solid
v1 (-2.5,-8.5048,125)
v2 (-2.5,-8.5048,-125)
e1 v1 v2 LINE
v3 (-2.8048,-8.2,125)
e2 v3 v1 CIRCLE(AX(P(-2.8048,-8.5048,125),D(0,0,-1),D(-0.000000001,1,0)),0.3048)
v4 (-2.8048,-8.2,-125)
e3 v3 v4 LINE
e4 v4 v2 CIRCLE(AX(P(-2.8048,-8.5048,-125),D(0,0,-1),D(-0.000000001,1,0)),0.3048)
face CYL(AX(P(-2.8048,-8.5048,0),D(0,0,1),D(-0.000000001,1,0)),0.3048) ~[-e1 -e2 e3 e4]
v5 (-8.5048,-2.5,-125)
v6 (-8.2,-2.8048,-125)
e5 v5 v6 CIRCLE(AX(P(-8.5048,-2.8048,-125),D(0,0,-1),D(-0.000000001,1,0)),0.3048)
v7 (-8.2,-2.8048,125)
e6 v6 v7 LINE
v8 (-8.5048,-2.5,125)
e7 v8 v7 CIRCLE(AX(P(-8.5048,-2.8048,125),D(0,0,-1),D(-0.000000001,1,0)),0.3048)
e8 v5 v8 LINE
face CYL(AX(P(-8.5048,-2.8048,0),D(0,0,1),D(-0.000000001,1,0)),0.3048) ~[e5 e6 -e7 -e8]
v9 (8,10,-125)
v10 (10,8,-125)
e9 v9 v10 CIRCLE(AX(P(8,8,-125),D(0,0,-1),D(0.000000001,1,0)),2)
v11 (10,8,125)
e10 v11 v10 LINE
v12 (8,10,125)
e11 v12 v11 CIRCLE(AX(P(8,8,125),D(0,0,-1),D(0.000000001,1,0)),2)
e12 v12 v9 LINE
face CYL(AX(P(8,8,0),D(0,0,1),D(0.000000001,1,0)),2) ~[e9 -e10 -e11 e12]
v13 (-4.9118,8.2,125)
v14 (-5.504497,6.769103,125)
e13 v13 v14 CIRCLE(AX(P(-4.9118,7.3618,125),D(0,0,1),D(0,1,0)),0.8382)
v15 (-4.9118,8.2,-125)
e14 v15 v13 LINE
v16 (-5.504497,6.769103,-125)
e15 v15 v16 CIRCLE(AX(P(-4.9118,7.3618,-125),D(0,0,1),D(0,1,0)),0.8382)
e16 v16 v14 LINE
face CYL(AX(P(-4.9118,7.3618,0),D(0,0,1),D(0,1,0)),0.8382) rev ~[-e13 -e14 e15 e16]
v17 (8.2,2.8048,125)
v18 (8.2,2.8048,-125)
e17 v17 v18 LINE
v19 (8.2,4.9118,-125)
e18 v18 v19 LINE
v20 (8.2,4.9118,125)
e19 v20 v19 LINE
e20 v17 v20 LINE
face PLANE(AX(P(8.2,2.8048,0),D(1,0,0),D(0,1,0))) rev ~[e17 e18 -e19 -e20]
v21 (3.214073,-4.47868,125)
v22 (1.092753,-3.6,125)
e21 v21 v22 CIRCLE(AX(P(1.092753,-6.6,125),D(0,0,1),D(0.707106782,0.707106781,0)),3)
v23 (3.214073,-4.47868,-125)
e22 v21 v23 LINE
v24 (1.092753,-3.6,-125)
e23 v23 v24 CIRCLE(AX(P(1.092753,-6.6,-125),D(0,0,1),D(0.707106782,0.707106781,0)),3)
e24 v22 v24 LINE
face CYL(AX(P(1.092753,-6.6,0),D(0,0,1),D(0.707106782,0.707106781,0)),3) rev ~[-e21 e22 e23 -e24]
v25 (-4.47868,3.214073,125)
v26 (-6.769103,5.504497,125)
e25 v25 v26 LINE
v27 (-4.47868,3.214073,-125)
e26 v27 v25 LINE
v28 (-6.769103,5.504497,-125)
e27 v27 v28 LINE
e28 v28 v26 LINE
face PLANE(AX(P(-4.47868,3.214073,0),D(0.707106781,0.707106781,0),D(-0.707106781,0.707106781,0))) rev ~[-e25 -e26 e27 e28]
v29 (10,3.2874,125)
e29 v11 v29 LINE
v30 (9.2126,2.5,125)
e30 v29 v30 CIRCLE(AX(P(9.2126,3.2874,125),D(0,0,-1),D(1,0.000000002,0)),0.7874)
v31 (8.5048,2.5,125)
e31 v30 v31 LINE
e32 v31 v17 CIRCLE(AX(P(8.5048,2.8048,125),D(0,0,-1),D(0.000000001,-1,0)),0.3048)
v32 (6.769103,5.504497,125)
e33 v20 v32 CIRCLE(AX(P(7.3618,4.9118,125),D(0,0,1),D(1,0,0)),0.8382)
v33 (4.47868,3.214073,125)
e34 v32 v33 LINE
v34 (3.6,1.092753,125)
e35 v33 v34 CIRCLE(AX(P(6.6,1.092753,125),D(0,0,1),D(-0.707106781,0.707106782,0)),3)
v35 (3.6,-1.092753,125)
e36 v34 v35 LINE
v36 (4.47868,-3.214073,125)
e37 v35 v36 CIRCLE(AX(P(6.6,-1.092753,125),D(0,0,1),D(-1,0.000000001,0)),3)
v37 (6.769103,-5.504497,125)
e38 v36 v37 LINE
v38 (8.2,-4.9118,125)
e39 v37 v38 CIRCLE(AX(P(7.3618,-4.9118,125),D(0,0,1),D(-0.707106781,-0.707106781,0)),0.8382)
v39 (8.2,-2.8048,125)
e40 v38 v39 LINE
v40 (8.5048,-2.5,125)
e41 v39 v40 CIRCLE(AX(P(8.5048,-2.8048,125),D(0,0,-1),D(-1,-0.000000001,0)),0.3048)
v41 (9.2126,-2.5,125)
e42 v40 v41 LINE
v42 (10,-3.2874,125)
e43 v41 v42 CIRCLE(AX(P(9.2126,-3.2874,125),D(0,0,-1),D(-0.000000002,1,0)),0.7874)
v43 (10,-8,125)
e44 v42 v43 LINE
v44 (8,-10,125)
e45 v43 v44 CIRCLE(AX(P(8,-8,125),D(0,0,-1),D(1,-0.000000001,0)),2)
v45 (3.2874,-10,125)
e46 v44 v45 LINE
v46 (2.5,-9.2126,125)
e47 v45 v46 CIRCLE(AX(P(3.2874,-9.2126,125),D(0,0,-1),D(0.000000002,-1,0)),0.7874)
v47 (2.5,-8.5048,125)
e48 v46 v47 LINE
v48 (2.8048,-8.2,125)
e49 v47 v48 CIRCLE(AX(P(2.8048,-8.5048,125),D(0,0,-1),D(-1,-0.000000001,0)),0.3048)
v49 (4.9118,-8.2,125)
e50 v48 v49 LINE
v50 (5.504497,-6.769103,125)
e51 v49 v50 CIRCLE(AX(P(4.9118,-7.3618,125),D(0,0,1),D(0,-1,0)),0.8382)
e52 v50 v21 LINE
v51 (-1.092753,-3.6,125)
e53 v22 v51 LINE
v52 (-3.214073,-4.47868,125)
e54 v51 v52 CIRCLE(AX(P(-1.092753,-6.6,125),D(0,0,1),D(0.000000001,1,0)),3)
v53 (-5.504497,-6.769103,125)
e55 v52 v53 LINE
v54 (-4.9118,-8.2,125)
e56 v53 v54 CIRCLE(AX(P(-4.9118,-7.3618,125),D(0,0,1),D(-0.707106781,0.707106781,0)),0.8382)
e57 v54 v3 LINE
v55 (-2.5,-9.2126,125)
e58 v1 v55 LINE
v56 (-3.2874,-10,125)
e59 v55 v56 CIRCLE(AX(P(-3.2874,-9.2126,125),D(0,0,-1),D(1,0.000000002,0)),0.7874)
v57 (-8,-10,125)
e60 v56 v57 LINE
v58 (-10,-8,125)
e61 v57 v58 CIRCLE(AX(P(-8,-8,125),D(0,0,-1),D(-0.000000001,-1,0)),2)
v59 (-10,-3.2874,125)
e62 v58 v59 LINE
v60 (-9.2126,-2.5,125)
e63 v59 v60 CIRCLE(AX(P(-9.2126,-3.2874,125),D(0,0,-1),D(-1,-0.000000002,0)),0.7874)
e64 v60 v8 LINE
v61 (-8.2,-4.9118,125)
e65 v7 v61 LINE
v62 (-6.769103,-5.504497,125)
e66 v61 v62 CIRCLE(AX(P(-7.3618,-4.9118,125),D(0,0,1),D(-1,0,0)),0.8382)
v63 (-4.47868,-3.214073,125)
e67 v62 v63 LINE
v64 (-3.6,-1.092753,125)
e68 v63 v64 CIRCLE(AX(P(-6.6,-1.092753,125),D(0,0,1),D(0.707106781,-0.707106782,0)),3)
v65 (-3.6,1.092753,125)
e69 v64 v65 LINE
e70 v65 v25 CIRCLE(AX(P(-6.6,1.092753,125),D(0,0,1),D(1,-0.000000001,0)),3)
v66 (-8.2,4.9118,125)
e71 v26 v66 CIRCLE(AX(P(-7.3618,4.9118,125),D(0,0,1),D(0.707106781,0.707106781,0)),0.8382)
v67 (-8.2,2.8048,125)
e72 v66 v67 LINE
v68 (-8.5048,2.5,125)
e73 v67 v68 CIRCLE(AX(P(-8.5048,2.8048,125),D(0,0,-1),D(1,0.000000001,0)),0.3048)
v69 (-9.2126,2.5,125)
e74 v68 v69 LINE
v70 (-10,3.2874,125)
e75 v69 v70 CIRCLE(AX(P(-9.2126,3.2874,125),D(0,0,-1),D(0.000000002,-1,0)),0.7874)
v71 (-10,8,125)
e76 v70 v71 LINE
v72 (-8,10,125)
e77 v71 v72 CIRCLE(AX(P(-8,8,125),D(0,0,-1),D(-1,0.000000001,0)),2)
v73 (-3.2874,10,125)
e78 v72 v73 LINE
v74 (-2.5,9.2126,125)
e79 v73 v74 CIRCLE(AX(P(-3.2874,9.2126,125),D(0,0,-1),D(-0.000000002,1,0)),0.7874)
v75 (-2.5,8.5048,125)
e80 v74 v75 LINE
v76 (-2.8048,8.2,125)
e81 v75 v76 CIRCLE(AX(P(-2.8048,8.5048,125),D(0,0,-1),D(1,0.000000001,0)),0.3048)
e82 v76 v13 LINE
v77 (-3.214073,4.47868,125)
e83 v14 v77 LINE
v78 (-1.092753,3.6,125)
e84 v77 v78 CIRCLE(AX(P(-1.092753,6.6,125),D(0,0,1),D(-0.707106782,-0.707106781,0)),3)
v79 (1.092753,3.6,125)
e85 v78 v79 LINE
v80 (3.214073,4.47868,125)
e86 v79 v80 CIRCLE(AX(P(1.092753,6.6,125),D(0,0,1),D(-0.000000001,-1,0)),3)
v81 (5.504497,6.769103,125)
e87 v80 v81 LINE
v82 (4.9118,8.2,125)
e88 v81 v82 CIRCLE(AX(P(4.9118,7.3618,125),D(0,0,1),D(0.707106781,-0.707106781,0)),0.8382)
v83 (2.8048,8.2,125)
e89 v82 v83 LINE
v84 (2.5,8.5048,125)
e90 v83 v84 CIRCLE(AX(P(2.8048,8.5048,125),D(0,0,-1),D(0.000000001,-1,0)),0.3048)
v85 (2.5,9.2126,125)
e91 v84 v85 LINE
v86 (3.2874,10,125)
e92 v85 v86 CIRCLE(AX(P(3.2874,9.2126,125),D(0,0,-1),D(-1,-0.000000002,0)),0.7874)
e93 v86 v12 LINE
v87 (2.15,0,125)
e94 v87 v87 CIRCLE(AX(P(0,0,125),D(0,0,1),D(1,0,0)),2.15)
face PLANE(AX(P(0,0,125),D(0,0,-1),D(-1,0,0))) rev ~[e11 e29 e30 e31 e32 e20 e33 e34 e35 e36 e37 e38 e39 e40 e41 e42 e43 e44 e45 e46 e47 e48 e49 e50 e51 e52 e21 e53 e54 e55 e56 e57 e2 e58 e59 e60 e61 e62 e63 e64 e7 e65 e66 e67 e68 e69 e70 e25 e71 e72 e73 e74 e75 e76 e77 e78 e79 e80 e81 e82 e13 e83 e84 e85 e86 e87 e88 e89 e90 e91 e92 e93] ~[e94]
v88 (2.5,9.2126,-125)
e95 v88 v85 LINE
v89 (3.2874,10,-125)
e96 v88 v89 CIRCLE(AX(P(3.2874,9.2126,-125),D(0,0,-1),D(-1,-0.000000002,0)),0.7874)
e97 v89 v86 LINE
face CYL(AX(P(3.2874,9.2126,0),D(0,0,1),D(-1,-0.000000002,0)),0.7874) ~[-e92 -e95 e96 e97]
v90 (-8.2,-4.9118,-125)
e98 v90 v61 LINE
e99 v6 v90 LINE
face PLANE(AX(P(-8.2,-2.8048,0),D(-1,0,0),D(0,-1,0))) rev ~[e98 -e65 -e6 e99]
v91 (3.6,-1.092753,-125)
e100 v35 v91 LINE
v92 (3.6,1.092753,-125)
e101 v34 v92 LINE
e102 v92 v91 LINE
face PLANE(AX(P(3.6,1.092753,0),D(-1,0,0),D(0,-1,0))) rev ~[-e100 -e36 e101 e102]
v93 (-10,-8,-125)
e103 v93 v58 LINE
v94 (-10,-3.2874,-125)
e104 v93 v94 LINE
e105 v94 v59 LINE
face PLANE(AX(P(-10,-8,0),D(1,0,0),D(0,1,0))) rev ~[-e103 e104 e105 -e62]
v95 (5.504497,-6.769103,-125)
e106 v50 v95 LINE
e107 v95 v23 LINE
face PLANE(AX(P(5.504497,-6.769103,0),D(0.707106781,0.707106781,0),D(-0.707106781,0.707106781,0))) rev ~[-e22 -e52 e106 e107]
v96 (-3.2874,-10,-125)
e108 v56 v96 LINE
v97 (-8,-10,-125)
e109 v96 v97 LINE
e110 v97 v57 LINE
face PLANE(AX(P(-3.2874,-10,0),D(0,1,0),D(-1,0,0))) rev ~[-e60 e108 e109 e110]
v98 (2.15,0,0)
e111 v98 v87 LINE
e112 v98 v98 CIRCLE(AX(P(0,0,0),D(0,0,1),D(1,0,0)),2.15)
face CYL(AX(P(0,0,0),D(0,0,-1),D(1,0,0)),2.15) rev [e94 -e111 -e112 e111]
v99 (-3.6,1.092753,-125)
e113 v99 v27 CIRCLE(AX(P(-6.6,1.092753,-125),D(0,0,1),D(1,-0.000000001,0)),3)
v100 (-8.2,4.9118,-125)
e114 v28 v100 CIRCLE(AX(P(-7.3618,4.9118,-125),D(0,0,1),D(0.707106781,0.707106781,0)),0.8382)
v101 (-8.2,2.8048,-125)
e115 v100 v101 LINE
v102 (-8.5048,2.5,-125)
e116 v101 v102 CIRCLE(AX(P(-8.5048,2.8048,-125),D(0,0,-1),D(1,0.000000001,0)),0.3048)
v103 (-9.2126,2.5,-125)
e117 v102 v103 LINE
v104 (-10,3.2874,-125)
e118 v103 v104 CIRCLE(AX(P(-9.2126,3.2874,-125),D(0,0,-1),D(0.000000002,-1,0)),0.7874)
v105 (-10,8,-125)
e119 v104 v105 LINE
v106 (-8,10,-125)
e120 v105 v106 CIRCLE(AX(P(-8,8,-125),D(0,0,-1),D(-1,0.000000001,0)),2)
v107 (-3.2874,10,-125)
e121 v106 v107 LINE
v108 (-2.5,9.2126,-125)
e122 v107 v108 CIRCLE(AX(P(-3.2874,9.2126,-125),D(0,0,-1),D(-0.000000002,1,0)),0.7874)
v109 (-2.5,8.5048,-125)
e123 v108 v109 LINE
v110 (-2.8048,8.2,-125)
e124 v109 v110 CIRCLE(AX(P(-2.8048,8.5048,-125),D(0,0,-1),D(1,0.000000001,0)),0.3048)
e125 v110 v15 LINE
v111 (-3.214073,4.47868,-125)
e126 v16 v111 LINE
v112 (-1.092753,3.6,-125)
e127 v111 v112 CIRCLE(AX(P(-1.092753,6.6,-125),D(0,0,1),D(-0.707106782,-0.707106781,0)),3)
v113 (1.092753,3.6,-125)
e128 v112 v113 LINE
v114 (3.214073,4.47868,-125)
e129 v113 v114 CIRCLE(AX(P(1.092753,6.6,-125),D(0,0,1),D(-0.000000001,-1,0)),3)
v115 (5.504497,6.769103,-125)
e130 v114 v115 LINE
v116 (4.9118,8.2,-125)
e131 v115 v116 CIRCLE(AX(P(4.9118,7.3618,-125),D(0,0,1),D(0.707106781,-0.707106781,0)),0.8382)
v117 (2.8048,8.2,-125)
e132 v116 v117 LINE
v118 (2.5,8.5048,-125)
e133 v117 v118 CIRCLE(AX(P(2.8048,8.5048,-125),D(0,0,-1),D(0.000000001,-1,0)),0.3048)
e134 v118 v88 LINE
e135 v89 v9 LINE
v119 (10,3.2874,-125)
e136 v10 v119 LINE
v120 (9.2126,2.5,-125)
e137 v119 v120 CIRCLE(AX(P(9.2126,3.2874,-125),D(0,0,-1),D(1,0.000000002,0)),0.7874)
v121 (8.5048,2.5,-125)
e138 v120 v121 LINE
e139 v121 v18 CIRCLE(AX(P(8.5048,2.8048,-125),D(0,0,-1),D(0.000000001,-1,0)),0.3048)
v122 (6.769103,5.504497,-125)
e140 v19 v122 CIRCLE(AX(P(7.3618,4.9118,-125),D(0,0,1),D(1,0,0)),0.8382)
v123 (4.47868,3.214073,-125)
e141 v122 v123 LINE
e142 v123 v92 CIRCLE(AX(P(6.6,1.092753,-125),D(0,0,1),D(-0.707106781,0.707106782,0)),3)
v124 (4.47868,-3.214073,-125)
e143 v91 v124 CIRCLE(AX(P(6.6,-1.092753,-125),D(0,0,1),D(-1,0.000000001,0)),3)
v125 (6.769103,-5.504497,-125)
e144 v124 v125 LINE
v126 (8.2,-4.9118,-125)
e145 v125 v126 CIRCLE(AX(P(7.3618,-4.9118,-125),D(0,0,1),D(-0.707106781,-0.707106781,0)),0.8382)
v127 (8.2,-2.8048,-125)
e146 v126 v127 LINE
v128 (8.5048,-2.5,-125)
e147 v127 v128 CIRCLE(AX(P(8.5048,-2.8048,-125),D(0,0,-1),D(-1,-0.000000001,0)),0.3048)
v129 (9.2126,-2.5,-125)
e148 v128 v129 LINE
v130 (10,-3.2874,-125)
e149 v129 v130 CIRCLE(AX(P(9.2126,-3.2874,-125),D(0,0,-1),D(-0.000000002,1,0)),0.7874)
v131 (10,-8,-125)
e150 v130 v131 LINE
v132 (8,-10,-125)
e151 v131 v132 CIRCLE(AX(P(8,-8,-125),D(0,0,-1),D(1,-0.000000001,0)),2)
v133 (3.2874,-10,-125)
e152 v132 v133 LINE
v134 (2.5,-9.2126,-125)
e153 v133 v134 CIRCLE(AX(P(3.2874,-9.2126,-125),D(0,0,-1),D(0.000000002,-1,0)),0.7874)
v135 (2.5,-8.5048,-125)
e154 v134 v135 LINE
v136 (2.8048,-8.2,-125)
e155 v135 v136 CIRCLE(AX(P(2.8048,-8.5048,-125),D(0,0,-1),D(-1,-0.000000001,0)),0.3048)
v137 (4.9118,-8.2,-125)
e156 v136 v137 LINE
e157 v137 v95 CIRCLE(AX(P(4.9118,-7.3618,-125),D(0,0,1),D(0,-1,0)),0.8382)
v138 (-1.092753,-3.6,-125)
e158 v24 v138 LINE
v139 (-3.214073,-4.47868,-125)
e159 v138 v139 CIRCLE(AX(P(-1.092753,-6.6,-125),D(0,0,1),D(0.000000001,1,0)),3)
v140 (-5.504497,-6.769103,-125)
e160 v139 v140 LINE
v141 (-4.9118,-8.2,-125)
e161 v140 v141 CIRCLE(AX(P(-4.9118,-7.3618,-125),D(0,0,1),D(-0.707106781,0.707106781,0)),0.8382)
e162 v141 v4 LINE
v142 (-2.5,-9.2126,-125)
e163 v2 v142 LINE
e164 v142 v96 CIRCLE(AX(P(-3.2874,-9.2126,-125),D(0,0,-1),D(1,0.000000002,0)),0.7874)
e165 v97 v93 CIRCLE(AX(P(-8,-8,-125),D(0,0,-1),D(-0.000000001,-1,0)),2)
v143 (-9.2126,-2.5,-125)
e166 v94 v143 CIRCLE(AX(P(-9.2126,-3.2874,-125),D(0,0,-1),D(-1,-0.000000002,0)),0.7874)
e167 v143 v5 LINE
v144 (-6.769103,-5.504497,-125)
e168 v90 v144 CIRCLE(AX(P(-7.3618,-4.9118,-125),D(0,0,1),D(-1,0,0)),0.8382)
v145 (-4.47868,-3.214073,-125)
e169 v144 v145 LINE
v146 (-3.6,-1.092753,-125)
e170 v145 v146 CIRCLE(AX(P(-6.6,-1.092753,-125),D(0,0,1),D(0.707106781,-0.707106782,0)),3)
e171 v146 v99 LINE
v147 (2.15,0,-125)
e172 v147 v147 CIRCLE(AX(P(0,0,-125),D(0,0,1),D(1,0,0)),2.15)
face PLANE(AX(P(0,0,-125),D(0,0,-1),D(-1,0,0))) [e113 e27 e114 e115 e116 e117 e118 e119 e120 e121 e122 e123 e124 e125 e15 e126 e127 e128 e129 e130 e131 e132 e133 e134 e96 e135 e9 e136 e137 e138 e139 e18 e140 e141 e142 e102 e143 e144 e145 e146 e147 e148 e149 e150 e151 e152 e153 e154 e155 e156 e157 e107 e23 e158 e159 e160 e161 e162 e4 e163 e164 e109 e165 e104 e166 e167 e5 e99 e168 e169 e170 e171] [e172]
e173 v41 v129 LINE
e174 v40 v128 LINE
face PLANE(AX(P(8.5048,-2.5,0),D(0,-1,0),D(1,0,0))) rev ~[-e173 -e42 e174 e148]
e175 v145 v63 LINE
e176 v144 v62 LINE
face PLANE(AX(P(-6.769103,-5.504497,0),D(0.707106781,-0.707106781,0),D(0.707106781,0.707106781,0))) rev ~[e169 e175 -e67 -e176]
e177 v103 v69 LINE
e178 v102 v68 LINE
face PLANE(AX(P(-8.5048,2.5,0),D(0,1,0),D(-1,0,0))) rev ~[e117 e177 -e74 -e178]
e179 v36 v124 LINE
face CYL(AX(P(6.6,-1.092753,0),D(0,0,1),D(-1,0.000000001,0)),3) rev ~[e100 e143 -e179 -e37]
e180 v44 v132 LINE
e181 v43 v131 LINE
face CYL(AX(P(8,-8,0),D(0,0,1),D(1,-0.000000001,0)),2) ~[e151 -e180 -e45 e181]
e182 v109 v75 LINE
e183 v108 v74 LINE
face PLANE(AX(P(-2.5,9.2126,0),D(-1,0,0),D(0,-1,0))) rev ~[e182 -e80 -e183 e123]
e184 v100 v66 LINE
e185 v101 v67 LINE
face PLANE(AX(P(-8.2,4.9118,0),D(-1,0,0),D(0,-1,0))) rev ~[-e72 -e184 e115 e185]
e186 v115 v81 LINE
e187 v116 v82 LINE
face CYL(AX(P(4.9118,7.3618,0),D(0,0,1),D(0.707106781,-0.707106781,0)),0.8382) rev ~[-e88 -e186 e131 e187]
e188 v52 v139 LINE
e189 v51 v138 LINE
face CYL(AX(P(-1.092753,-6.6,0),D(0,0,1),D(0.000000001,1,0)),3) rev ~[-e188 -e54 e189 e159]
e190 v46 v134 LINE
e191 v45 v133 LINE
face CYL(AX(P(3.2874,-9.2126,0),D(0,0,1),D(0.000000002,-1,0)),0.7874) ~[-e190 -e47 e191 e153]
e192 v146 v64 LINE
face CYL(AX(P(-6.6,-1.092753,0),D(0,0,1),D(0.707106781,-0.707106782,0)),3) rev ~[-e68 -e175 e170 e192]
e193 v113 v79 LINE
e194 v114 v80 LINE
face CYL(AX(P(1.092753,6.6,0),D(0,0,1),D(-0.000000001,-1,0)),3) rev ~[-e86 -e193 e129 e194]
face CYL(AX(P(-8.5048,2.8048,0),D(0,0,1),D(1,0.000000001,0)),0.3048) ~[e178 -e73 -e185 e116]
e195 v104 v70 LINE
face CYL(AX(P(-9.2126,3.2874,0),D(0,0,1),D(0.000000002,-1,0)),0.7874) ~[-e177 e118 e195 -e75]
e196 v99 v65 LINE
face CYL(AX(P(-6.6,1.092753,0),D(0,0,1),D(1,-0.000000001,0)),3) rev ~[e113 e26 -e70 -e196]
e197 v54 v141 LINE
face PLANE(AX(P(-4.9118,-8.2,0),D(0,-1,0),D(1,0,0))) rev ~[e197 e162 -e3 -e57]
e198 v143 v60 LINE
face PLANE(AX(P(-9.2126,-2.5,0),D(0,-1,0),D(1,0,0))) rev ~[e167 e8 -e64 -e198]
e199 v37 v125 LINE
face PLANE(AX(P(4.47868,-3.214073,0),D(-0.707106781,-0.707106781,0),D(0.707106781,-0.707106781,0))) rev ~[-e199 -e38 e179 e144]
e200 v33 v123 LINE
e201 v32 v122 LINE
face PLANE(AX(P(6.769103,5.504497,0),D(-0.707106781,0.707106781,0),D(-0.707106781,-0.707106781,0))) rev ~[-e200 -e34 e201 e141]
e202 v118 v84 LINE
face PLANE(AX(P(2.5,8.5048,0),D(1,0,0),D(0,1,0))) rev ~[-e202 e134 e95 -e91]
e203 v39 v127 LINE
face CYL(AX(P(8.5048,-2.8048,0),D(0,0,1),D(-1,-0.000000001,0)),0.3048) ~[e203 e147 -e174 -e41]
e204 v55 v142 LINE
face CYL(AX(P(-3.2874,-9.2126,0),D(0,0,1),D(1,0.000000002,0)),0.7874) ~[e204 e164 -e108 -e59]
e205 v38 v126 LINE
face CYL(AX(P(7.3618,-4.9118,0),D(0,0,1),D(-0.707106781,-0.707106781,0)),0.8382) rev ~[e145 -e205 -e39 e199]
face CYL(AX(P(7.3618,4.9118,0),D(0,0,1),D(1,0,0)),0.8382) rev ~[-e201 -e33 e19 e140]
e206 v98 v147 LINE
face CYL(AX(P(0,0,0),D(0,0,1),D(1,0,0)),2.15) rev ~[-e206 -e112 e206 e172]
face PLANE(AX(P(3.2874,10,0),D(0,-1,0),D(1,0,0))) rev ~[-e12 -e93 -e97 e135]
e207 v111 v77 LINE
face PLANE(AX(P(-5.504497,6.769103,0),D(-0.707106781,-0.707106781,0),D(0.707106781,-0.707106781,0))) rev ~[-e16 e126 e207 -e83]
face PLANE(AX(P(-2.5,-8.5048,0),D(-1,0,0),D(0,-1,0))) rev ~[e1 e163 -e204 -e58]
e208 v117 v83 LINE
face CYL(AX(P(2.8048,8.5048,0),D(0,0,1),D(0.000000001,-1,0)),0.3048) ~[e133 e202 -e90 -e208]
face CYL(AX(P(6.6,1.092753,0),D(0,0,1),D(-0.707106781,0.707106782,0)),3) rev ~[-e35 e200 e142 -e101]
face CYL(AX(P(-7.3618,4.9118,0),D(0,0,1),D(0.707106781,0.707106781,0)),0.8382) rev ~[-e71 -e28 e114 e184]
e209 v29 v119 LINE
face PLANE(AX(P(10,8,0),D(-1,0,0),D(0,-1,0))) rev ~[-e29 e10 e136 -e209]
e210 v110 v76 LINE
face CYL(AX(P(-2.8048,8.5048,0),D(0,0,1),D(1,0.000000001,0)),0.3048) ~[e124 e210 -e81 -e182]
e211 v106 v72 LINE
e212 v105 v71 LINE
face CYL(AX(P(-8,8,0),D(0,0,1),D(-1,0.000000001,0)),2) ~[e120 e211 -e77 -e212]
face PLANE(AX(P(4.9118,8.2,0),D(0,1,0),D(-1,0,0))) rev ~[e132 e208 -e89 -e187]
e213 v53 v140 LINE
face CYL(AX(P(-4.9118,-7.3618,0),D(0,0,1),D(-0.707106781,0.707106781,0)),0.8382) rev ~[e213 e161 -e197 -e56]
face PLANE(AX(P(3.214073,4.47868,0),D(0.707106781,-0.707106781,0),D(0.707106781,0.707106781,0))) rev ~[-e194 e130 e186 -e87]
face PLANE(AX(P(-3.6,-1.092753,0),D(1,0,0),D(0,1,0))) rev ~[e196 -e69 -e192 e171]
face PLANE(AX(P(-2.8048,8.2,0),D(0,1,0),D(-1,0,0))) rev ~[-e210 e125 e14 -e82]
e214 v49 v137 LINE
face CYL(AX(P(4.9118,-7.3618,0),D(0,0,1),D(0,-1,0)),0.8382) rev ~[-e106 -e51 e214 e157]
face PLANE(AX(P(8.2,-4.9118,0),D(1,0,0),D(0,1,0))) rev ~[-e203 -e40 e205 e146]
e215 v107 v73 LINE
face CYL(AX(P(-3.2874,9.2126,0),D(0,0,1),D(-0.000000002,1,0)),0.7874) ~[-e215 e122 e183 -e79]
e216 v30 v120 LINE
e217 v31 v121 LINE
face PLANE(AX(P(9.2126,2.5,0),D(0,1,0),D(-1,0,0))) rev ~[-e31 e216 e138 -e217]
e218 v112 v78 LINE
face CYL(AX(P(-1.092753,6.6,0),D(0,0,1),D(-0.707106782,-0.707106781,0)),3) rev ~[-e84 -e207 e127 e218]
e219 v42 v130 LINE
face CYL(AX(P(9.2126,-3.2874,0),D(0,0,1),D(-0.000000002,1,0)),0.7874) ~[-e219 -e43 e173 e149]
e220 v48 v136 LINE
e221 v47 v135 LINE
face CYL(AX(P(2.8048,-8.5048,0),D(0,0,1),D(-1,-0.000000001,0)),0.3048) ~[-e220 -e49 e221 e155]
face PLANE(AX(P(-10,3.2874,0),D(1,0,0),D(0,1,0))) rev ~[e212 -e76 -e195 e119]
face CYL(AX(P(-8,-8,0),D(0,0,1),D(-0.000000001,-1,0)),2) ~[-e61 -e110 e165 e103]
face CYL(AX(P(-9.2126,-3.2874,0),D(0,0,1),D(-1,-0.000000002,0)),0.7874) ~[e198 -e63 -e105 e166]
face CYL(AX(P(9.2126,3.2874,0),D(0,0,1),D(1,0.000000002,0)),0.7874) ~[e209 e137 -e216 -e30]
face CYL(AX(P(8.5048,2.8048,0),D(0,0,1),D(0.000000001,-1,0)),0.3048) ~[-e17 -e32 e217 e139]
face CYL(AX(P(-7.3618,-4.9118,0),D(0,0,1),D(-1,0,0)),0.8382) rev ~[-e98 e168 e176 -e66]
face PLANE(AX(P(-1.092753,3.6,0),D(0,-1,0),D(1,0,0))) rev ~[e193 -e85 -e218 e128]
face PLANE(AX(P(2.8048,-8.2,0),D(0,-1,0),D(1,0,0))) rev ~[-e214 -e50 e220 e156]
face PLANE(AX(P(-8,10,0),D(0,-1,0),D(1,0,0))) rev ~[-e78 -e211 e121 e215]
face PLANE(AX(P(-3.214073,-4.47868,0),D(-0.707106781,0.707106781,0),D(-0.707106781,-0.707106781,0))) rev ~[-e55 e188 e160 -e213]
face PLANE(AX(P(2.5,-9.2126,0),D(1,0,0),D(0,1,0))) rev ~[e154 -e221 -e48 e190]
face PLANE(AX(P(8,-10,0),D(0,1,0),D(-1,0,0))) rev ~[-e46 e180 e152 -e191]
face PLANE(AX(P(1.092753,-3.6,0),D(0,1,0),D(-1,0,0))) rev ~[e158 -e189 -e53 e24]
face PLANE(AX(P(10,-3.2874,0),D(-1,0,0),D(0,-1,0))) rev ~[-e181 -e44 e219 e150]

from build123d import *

# Parameters (mm, degrees)
SKETCH3_R                = 2.15
BOSS_EXTRUDE1_DEPTH      = 125
BOSS_EXTRUDE1_DEPTH_BACK = 125


with BuildPart() as part:
    # Sketch3 → Boss-Extrude1 (new body, two sides)
    with BuildSketch(Plane.XY) as boss_extrude1_sk:
        with BuildLine():
            Line((3.2874, 10), (8, 10))
            ThreePointArc((8, 10), (9.414213562, 9.414213562), (10, 8))
            Line((10, 8), (10, 3.2874))
            ThreePointArc((10, 3.2874), (9.76937588, 2.73062412), (9.2126, 2.5))
            Line((9.2126, 2.5), (8.5048, 2.5))
            ThreePointArc((8.5048, 2.5), (8.289273853, 2.589273853), (8.2, 2.8048))
            Line((8.2, 2.8048), (8.2, 4.9118))
            ThreePointArc((8.2, 4.9118), (7.682565253, 5.686195824), (6.769103096, 5.504496904))
            Line((6.769103096, 5.504496904), (4.478679656, 3.214073464))
            ThreePointArc((4.478679656, 3.214073464), (3.828361402, 2.240803418), (3.6, 1.092753121))
            Line((3.6, 1.092753121), (3.6, -1.092753121))
            ThreePointArc((3.6, -1.092753121), (3.828361402, -2.240803418), (4.478679656, -3.214073464))
            Line((4.478679656, -3.214073464), (6.769103096, -5.504496904))
            ThreePointArc((6.769103096, -5.504496904), (7.682565253, -5.686195824), (8.2, -4.9118))
            Line((8.2, -4.9118), (8.2, -2.8048))
            ThreePointArc((8.2, -2.8048), (8.289273853, -2.589273853), (8.5048, -2.5))
            Line((8.5048, -2.5), (9.2126, -2.5))
            ThreePointArc((9.2126, -2.5), (9.76937588, -2.73062412), (10, -3.2874))
            Line((10, -3.2874), (10, -8))
            ThreePointArc((10, -8), (9.414213562, -9.414213562), (8, -10))
            Line((8, -10), (3.2874, -10))
            ThreePointArc((3.2874, -10), (2.73062412, -9.76937588), (2.5, -9.2126))
            Line((2.5, -9.2126), (2.5, -8.5048))
            ThreePointArc((2.5, -8.5048), (2.589273853, -8.289273853), (2.8048, -8.2))
            Line((2.8048, -8.2), (4.9118, -8.2))
            ThreePointArc((4.9118, -8.2), (5.686195824, -7.682565253), (5.504496904, -6.769103096))
            Line((5.504496904, -6.769103096), (3.214073464, -4.478679656))
            ThreePointArc((3.214073464, -4.478679656), (2.240803418, -3.828361402), (1.092753121, -3.6))
            Line((1.092753121, -3.6), (-1.092753121, -3.6))
            ThreePointArc((-1.092753121, -3.6), (-2.240803418, -3.828361402), (-3.214073464, -4.478679656))
            Line((-3.214073464, -4.478679656), (-5.504496904, -6.769103096))
            ThreePointArc((-5.504496904, -6.769103096), (-5.686195824, -7.682565253), (-4.9118, -8.2))
            Line((-4.9118, -8.2), (-2.8048, -8.2))
            ThreePointArc((-2.8048, -8.2), (-2.589273853, -8.289273853), (-2.5, -8.5048))
            Line((-2.5, -8.5048), (-2.5, -9.2126))
            ThreePointArc((-2.5, -9.2126), (-2.73062412, -9.76937588), (-3.2874, -10))
            Line((-3.2874, -10), (-8, -10))
            ThreePointArc((-8, -10), (-9.414213562, -9.414213562), (-10, -8))
            Line((-10, -8), (-10, -3.2874))
            ThreePointArc((-10, -3.2874), (-9.76937588, -2.73062412), (-9.2126, -2.5))
            Line((-9.2126, -2.5), (-8.5048, -2.5))
            ThreePointArc((-8.5048, -2.5), (-8.289273853, -2.589273853), (-8.2, -2.8048))
            Line((-8.2, -2.8048), (-8.2, -4.9118))
            ThreePointArc((-8.2, -4.9118), (-7.682565253, -5.686195824), (-6.769103096, -5.504496904))
            Line((-6.769103096, -5.504496904), (-4.478679656, -3.214073464))
            ThreePointArc((-4.478679656, -3.214073464), (-3.828361402, -2.240803418), (-3.6, -1.092753121))
            Line((-3.6, -1.092753121), (-3.6, 1.092753121))
            ThreePointArc((-3.6, 1.092753121), (-3.828361402, 2.240803418), (-4.478679656, 3.214073464))
            Line((-4.478679656, 3.214073464), (-6.769103096, 5.504496904))
            ThreePointArc((-6.769103096, 5.504496904), (-7.682565253, 5.686195824), (-8.2, 4.9118))
            Line((-8.2, 4.9118), (-8.2, 2.8048))
            ThreePointArc((-8.2, 2.8048), (-8.289273853, 2.589273853), (-8.5048, 2.5))
            Line((-8.5048, 2.5), (-9.2126, 2.5))
            ThreePointArc((-9.2126, 2.5), (-9.76937588, 2.73062412), (-10, 3.2874))
            Line((-10, 3.2874), (-10, 8))
            ThreePointArc((-10, 8), (-9.414213562, 9.414213562), (-8, 10))
            Line((-8, 10), (-3.2874, 10))
            ThreePointArc((-3.2874, 10), (-2.73062412, 9.76937588), (-2.5, 9.2126))
            Line((-2.5, 9.2126), (-2.5, 8.5048))
            ThreePointArc((-2.5, 8.5048), (-2.589273853, 8.289273853), (-2.8048, 8.2))
            Line((-2.8048, 8.2), (-4.9118, 8.2))
            ThreePointArc((-4.9118, 8.2), (-5.686195824, 7.682565253), (-5.504496904, 6.769103096))
            Line((-5.504496904, 6.769103096), (-3.214073464, 4.478679656))
            ThreePointArc((-3.214073464, 4.478679656), (-2.240803418, 3.828361402), (-1.092753121, 3.6))
            Line((-1.092753121, 3.6), (1.092753121, 3.6))
            ThreePointArc((1.092753121, 3.6), (2.240803418, 3.828361402), (3.214073464, 4.478679656))
            Line((3.214073464, 4.478679656), (5.504496904, 6.769103096))
            ThreePointArc((5.504496904, 6.769103096), (5.686195824, 7.682565253), (4.9118, 8.2))
            Line((4.9118, 8.2), (2.8048, 8.2))
            ThreePointArc((2.8048, 8.2), (2.589273853, 8.289273853), (2.5, 8.5048))
            Line((2.5, 8.5048), (2.5, 9.2126))
            ThreePointArc((2.5, 9.2126), (2.73062412, 9.76937588), (3.2874, 10))
        make_face()
        Circle(SKETCH3_R, mode=Mode.SUBTRACT)
    extrude(amount=BOSS_EXTRUDE1_DEPTH)
    extrude(boss_extrude1_sk.sketch, amount=-BOSS_EXTRUDE1_DEPTH_BACK)


solid = part.part
